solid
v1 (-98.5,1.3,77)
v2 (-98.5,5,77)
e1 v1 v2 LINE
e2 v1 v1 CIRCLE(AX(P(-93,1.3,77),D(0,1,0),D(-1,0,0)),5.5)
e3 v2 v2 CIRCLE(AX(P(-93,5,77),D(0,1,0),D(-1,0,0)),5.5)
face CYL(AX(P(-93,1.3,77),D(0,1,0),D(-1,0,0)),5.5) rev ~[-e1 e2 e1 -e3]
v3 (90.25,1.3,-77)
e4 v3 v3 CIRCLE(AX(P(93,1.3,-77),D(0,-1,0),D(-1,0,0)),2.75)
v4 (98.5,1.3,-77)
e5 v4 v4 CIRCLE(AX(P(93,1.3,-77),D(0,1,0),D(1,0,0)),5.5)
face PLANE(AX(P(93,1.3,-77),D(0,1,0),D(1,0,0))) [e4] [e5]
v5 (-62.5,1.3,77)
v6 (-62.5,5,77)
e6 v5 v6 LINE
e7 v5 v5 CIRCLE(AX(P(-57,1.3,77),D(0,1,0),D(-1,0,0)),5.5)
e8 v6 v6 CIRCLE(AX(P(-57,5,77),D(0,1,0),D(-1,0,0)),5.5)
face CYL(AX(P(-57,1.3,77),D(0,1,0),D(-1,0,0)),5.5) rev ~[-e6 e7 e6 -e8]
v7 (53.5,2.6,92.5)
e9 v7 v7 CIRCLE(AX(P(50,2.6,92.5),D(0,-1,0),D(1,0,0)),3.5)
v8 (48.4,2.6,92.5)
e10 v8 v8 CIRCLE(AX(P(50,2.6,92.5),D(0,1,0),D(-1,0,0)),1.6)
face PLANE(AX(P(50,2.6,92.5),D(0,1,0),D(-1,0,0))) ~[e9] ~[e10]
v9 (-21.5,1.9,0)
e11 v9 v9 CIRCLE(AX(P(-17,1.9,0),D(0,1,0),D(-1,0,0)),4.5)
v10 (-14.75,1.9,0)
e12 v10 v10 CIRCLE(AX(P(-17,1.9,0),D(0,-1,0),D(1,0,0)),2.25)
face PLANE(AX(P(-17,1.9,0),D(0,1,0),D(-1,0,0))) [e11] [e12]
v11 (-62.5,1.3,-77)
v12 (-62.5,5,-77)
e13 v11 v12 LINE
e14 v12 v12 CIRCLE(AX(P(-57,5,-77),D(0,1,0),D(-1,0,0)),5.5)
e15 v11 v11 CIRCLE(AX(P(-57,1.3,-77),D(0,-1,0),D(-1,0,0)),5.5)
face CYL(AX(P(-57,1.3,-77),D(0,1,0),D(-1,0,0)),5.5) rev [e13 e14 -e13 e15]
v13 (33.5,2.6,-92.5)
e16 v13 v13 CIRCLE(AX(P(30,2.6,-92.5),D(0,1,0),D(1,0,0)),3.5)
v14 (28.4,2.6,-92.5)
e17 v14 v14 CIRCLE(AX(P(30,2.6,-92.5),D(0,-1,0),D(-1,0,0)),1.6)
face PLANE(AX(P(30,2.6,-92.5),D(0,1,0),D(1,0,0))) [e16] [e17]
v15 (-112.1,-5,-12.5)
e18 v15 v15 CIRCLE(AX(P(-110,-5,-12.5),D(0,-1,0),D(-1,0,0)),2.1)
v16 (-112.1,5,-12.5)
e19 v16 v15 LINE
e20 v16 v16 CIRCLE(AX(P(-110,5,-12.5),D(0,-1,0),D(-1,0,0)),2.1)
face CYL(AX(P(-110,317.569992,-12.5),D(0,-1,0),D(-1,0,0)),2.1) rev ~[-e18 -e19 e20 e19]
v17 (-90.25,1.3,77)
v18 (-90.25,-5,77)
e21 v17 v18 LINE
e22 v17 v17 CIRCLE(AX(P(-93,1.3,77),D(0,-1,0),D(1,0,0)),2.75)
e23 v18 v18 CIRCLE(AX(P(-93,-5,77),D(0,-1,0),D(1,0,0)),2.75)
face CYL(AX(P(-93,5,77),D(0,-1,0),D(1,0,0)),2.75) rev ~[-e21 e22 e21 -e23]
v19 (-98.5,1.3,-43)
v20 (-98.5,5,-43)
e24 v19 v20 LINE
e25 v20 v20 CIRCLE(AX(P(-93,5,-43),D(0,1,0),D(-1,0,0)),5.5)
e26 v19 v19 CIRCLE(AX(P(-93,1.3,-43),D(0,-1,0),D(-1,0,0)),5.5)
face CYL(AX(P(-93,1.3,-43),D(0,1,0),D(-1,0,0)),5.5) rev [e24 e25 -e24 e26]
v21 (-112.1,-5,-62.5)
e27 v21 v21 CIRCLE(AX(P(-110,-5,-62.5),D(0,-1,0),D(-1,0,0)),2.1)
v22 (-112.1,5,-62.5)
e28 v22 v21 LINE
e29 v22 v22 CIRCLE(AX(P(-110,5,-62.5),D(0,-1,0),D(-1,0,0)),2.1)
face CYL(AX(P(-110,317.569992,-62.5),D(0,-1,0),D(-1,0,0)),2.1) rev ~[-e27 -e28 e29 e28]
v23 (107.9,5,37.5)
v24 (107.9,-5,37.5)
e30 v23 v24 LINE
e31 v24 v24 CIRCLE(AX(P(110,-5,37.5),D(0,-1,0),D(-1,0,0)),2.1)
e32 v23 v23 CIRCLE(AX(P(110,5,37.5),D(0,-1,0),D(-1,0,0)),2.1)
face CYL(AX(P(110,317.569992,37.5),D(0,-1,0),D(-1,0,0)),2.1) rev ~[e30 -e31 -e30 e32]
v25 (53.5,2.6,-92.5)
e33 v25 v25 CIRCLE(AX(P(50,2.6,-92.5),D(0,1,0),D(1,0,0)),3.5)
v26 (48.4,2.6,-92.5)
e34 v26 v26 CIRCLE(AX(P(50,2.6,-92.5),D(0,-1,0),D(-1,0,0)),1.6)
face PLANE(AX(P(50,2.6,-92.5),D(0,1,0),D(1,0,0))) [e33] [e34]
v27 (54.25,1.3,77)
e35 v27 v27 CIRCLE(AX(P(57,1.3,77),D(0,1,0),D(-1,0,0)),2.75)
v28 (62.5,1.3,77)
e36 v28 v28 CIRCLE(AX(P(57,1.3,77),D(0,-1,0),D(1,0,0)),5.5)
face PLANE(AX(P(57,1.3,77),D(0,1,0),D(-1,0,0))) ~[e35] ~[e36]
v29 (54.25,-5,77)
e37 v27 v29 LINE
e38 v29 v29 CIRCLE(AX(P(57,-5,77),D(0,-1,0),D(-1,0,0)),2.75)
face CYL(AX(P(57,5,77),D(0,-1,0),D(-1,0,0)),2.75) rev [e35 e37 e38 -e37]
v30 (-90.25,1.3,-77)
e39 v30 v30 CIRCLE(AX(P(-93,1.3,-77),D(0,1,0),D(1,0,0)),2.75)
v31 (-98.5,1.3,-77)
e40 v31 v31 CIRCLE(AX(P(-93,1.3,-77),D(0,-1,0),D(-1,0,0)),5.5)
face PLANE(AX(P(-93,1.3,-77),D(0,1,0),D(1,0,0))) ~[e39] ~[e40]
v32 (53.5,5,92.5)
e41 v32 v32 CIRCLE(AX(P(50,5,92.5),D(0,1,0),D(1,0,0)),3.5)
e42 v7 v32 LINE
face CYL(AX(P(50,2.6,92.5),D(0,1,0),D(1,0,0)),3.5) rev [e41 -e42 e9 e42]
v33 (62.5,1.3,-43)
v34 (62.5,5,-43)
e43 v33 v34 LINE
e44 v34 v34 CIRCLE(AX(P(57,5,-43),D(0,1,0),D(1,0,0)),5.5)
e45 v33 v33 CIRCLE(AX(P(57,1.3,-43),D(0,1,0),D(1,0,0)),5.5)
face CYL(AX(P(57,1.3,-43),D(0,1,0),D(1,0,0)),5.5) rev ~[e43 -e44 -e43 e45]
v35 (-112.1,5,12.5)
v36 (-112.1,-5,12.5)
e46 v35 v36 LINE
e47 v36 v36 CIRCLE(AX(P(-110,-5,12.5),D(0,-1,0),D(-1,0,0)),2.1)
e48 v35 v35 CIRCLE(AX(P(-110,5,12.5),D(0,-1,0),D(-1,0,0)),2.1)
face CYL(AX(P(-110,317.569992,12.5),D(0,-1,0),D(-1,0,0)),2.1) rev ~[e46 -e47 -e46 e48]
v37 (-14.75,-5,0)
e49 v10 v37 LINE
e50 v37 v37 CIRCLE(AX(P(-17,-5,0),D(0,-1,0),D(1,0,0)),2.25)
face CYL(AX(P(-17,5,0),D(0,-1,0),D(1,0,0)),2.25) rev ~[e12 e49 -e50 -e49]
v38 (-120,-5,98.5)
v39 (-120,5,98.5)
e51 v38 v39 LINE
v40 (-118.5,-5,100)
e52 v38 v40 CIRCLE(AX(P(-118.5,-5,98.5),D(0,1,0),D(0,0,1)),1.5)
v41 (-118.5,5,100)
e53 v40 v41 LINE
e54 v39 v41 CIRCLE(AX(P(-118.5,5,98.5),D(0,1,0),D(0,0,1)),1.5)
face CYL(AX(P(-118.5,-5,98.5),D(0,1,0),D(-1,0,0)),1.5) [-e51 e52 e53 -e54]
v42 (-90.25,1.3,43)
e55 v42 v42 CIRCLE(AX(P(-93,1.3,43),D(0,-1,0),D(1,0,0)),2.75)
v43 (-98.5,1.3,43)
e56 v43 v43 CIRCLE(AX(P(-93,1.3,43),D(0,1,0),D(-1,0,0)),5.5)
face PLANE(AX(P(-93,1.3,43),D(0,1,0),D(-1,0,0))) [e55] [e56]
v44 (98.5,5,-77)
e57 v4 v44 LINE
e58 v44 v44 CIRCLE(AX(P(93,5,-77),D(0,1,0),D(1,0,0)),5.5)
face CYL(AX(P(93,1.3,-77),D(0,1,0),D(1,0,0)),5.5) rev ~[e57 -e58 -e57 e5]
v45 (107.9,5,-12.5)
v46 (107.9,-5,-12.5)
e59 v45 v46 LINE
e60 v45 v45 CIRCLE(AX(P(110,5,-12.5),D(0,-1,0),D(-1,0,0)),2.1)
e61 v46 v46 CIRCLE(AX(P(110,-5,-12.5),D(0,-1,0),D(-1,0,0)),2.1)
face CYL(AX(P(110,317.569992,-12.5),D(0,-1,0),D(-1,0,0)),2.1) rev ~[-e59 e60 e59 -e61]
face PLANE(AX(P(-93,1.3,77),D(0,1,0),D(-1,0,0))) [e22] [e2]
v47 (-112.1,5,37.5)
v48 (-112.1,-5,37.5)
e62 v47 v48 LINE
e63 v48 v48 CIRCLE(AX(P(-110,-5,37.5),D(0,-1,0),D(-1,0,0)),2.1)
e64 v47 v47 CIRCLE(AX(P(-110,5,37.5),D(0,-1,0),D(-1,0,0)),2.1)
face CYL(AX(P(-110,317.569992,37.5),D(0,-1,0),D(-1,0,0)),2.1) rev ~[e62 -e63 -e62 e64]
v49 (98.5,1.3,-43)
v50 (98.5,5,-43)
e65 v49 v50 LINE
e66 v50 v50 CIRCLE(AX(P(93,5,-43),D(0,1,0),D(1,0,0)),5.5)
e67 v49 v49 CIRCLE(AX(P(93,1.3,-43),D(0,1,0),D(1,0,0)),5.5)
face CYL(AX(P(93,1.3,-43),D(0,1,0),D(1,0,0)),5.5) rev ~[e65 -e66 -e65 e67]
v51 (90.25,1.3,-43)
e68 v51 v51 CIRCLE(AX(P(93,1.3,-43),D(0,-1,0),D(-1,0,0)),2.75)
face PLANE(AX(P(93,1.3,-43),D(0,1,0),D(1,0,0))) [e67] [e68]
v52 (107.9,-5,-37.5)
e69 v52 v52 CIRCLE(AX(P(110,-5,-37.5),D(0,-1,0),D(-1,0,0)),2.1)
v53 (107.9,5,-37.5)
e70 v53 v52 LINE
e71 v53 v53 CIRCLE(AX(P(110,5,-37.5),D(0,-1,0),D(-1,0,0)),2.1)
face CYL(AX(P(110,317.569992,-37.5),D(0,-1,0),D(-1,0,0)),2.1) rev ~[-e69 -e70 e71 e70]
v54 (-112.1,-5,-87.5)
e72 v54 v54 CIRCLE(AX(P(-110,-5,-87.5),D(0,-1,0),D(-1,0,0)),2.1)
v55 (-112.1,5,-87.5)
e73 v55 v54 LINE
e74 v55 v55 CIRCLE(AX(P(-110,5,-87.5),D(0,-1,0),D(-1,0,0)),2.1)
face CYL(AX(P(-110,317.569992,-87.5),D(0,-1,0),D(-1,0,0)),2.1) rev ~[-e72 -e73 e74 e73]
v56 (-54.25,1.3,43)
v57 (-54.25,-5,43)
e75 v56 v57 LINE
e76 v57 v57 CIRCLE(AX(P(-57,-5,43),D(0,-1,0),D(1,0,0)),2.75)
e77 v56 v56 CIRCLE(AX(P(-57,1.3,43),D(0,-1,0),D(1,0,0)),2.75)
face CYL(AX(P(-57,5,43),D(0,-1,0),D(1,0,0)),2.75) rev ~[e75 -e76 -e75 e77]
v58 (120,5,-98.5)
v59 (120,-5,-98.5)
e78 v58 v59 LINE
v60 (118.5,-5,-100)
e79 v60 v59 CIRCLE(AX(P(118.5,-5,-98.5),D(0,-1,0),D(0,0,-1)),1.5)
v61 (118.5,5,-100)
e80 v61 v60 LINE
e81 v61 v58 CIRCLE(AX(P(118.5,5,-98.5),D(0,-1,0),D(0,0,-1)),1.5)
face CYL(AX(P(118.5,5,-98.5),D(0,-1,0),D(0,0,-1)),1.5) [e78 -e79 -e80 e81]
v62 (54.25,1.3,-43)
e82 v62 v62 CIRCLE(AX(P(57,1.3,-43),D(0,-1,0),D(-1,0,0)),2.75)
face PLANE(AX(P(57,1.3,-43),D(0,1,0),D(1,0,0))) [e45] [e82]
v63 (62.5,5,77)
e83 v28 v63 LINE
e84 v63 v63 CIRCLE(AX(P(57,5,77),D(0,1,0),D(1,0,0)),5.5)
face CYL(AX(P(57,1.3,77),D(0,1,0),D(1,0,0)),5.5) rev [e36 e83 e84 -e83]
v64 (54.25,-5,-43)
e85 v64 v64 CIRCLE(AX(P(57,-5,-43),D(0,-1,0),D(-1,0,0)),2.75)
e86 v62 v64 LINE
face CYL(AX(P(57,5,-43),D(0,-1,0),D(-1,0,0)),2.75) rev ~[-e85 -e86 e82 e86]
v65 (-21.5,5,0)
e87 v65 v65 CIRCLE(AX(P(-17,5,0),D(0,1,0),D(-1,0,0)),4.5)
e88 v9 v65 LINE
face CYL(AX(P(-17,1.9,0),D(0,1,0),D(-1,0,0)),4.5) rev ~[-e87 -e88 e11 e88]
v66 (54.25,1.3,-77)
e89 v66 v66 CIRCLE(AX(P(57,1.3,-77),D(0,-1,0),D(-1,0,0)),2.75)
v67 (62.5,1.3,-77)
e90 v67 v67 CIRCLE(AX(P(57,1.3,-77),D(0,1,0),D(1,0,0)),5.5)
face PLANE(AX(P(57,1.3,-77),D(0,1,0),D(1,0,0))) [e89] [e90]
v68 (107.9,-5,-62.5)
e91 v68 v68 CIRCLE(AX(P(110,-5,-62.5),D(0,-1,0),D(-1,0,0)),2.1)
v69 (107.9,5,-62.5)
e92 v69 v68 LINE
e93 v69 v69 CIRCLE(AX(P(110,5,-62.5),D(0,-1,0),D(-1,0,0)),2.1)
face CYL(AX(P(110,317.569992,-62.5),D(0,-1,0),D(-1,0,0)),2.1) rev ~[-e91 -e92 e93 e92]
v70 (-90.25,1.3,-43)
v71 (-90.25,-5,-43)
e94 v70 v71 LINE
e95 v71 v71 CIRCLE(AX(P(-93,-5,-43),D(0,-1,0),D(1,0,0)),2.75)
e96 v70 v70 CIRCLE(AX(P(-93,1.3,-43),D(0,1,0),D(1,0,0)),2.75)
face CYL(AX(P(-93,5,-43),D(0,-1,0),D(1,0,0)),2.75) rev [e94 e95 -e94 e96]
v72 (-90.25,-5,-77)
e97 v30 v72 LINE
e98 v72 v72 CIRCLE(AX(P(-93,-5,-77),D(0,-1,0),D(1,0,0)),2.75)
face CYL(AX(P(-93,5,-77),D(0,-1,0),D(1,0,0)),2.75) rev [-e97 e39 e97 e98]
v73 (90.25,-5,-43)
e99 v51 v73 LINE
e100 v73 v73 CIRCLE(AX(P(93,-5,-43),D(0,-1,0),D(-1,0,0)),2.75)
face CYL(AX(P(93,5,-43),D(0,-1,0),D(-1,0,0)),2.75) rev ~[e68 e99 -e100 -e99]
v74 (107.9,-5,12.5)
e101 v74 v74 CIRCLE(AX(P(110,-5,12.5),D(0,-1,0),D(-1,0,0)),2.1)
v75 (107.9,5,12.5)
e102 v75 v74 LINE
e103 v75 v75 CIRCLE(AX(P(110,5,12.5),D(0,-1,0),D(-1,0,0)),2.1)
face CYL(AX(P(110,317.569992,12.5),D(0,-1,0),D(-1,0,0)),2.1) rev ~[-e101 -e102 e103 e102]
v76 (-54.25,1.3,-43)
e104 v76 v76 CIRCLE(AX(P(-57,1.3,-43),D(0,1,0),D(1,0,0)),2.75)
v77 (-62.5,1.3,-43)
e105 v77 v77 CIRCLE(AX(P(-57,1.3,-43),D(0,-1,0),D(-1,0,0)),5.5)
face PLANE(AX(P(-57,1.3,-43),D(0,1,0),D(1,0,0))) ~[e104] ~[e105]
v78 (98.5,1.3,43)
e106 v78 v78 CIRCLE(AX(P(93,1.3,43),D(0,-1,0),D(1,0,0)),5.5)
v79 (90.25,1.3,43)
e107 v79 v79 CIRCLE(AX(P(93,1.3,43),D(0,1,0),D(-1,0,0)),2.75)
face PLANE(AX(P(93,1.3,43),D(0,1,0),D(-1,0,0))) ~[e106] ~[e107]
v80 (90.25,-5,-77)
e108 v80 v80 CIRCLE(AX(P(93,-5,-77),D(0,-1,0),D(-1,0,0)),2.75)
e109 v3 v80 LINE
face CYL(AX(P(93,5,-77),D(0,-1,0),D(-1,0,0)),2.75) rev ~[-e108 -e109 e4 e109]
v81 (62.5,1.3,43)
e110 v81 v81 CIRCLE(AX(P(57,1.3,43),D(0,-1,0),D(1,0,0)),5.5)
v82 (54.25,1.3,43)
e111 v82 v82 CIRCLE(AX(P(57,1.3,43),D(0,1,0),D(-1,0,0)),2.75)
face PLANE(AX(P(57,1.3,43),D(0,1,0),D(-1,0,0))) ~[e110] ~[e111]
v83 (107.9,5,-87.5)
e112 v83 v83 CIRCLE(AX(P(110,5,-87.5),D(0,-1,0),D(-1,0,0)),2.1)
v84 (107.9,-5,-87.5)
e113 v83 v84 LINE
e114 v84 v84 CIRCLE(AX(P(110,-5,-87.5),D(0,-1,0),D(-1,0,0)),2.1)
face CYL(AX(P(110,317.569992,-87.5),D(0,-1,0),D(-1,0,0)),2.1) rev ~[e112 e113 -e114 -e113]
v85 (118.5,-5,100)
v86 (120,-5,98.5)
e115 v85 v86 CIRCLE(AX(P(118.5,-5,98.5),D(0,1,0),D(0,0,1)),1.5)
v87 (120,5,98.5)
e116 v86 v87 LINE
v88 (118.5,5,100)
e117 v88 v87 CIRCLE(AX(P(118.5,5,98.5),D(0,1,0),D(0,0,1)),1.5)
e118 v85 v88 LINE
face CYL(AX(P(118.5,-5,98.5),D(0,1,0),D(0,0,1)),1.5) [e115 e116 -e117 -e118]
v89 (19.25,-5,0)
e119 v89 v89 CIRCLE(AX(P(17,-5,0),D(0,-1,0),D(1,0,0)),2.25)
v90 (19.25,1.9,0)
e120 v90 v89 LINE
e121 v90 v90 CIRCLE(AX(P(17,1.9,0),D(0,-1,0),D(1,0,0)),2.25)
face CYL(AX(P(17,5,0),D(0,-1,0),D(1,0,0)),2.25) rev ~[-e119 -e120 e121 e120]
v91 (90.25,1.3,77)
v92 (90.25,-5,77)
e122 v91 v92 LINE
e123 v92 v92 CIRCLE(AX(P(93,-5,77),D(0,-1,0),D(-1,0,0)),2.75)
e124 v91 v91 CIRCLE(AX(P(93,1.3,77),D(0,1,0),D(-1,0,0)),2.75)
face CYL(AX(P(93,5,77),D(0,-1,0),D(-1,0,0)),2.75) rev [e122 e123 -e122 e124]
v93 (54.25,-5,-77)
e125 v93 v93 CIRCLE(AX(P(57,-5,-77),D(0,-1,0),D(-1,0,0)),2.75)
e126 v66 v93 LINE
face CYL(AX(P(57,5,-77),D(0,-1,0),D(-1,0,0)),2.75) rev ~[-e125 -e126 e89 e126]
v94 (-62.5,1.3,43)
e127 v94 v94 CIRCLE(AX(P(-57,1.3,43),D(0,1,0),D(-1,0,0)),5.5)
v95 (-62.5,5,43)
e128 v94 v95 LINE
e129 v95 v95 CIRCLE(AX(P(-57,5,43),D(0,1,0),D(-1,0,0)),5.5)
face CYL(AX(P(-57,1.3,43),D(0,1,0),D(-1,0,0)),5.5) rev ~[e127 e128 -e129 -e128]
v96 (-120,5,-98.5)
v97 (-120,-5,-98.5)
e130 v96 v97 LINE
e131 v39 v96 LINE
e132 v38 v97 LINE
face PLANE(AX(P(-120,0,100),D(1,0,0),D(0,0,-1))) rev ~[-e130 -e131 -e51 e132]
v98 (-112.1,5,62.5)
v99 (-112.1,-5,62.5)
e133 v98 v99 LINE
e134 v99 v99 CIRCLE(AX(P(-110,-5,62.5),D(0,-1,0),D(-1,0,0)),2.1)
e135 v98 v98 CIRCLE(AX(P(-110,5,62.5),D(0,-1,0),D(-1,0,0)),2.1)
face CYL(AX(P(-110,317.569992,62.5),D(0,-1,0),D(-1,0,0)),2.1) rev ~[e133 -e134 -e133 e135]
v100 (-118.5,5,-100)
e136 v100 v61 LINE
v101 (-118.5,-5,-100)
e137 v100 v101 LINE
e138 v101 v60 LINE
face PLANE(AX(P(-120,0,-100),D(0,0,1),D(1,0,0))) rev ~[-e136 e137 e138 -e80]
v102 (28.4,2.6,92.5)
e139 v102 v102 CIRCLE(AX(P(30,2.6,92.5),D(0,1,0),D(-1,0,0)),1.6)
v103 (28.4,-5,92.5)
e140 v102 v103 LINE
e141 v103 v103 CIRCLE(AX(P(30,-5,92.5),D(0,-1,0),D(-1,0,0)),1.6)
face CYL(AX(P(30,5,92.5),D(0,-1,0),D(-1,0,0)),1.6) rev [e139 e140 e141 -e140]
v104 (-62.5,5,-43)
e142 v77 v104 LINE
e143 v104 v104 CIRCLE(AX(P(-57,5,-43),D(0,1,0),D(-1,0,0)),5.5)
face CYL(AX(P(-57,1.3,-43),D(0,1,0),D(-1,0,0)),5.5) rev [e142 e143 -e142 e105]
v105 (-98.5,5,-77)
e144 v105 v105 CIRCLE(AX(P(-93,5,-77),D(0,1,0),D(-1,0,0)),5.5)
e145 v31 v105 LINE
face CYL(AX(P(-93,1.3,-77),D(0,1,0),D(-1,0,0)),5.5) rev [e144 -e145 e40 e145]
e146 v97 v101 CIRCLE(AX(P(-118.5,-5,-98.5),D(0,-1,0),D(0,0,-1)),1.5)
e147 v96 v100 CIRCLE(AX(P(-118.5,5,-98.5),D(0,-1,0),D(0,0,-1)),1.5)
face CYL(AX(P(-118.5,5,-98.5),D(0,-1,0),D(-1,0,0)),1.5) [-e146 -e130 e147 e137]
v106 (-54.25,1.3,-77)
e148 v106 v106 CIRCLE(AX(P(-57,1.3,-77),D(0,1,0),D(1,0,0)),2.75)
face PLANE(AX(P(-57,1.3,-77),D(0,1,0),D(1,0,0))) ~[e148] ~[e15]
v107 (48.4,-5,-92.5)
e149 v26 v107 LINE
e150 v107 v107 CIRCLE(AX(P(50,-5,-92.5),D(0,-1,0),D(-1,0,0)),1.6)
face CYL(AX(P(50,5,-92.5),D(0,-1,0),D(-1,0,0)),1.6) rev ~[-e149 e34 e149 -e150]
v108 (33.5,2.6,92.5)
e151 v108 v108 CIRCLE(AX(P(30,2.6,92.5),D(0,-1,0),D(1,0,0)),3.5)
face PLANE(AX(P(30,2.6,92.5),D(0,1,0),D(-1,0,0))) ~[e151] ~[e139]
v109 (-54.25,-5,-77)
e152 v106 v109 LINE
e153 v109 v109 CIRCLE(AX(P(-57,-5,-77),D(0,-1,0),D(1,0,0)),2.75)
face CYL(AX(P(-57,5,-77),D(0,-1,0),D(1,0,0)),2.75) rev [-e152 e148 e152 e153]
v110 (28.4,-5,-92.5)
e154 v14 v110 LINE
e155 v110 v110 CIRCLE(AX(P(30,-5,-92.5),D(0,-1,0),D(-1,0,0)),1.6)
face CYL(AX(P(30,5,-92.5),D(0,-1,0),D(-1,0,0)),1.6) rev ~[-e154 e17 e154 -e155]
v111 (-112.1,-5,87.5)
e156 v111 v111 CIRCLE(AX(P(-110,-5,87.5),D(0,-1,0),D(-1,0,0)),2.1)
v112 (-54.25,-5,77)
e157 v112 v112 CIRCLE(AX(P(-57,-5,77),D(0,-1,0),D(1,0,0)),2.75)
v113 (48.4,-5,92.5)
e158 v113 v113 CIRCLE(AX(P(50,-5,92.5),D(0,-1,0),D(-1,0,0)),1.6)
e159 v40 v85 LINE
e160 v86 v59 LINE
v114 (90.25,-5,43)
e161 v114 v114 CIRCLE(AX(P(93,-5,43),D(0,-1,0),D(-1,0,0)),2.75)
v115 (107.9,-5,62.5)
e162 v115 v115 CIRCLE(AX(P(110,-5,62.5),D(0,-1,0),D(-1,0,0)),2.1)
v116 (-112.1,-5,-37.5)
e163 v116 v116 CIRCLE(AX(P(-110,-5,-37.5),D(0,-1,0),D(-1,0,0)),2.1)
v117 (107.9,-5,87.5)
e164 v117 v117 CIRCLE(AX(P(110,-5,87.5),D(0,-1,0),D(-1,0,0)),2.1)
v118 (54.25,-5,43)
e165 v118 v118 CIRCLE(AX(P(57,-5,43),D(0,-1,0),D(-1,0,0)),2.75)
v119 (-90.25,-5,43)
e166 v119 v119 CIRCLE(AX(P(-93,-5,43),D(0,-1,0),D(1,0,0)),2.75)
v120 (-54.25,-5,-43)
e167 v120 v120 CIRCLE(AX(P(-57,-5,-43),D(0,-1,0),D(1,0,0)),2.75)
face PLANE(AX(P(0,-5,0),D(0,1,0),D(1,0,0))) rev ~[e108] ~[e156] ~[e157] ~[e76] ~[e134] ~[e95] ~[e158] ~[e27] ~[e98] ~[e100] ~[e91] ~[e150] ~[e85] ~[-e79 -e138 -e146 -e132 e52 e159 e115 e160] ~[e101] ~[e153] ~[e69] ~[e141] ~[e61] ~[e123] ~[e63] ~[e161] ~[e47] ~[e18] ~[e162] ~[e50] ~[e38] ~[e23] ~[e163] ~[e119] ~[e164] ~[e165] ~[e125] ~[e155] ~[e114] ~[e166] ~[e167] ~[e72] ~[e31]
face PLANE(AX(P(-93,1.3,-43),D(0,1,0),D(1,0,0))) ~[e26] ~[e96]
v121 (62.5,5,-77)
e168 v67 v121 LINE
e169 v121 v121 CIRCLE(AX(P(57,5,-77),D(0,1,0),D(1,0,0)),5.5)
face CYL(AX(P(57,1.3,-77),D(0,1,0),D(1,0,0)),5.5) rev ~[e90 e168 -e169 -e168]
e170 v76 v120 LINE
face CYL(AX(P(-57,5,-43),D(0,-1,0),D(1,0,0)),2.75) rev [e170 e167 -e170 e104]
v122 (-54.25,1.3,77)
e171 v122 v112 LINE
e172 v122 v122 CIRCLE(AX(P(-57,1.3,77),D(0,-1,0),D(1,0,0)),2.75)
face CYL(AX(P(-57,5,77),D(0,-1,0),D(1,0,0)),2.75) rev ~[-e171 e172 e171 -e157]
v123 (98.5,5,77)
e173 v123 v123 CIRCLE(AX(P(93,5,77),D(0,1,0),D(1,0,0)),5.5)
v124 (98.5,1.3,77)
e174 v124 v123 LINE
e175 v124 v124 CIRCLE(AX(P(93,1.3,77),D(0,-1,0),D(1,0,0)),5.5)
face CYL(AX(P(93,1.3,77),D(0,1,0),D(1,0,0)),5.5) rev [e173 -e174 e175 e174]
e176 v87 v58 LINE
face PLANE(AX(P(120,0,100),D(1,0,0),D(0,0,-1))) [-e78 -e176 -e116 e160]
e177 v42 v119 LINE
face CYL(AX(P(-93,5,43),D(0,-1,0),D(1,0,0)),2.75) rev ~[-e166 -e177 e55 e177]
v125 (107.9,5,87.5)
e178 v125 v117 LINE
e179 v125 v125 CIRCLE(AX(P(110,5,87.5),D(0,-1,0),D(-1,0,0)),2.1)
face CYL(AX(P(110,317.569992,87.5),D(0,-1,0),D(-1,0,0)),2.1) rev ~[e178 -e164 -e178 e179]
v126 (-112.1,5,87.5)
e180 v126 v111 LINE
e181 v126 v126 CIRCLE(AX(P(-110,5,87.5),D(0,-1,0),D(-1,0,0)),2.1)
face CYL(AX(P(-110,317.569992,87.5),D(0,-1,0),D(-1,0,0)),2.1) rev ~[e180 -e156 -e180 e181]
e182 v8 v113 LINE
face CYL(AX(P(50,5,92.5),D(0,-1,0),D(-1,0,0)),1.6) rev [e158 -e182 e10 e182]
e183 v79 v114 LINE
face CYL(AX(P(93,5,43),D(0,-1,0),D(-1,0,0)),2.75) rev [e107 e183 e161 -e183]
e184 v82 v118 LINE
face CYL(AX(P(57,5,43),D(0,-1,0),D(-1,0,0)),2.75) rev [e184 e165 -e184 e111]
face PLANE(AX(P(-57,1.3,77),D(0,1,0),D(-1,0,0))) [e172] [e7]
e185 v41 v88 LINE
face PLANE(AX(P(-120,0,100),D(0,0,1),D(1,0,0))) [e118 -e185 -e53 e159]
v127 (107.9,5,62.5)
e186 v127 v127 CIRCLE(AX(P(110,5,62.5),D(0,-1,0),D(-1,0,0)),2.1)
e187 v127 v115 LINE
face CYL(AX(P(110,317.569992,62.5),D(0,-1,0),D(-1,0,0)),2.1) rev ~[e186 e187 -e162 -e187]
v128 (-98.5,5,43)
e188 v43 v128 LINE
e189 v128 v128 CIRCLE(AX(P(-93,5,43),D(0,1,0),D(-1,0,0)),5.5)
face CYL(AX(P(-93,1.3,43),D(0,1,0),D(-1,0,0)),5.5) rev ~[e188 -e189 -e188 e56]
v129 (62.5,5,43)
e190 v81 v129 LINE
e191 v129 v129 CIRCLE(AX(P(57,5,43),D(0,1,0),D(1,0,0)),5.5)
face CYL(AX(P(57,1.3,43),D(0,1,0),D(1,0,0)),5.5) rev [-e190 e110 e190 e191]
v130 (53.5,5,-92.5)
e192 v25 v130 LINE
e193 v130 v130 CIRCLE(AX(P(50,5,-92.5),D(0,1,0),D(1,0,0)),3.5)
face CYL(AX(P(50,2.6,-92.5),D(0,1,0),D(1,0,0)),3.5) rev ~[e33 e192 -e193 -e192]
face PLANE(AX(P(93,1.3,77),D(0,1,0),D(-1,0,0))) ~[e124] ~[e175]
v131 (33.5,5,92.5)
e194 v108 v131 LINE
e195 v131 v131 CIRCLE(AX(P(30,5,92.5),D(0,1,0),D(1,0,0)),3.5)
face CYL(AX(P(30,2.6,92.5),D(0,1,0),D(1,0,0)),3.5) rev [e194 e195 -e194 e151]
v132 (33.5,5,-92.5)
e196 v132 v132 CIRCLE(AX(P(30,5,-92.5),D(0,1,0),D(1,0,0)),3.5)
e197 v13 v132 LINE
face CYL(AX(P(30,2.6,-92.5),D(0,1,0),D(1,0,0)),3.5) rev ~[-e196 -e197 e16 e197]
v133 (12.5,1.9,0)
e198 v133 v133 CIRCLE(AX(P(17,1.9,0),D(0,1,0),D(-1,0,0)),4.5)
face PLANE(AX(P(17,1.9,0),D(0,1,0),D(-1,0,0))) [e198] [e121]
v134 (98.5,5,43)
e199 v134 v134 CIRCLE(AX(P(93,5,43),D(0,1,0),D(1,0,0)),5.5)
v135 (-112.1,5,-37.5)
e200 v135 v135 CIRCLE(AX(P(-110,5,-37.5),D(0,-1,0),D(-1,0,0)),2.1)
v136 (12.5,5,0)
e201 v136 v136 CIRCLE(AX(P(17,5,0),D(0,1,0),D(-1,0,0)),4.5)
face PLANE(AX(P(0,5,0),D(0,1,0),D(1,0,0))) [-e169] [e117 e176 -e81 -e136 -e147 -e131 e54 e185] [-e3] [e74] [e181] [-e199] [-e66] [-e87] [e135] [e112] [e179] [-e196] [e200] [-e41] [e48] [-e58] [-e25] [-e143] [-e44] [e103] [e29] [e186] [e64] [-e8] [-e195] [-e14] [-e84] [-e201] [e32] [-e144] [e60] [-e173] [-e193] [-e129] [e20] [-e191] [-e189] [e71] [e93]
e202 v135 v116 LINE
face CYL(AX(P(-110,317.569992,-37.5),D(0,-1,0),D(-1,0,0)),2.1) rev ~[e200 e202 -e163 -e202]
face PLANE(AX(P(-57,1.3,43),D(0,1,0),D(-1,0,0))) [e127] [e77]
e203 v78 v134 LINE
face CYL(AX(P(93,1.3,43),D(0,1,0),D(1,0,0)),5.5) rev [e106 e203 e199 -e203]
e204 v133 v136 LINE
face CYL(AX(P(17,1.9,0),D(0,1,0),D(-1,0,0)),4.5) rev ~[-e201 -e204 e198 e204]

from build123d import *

# Parameters (mm, degrees)
SKETCH1_W                                        = 240
SKETCH1_H                                        = 200
BOSS_EXTRUDE1_DEPTH                              = 5
CBORE_FOR_M5_PAN_HEAD_MACHINE_SCREW1_D           = 5.5
CBORE_FOR_M5_PAN_HEAD_MACHINE_SCREW1_CBORE_D     = 11
CBORE_FOR_M5_PAN_HEAD_MACHINE_SCREW1_CBORE_DEPTH = 3.7
MIRROR2_COPY_1_D                                 = 5.5
MIRROR2_COPY_1_CBORE_D                           = 11
MIRROR2_COPY_1_CBORE_DEPTH                       = 3.7
CBORE_FOR_M4_PAN_HEAD_MACHINE_SCREW1_D           = 4.5
CBORE_FOR_M4_PAN_HEAD_MACHINE_SCREW1_CBORE_D     = 9
CBORE_FOR_M4_PAN_HEAD_MACHINE_SCREW1_CBORE_DEPTH = 3.1
M5X0_8_TAPPED_HOLE1_D                            = 4.2
FILLET1_R                                        = 1.5
LPATTERN2_COUNT                                  = 8
LPATTERN2_PITCH                                  = 25
CBORE_FOR_M3_PAN_HEAD_MACHINE_SCREW1_D           = 3.2
CBORE_FOR_M3_PAN_HEAD_MACHINE_SCREW1_CBORE_D     = 7
CBORE_FOR_M3_PAN_HEAD_MACHINE_SCREW1_CBORE_DEPTH = 2.4


with BuildPart() as part:
    # Sketch1 → Boss-Extrude1 (new body, symmetric)
    with BuildSketch(Plane(origin=(0, 0, 0), x_dir=(1, 0, 0), z_dir=(0, 1, 0))):
        Rectangle(SKETCH1_W, SKETCH1_H)
    extrude(amount=BOSS_EXTRUDE1_DEPTH, both=True)

    # CBORE for M5 Pan Head Machine Screw1 (through all)
    with Locations(Plane(origin=(66.92305649, 5, -81.969265096), x_dir=(-1, 0, 0), z_dir=(0, 1, 0))):
        with Locations((159.92305649, 158.969265096), (123.92305649, 158.969265096), (123.92305649, 124.969265096), (159.92305649, 124.969265096)):
            cbore_for_m5_pan_head_machine_screw1 = CounterBoreHole(CBORE_FOR_M5_PAN_HEAD_MACHINE_SCREW1_D / 2, CBORE_FOR_M5_PAN_HEAD_MACHINE_SCREW1_CBORE_D / 2, CBORE_FOR_M5_PAN_HEAD_MACHINE_SCREW1_CBORE_DEPTH)

    # Mirror1: CBORE for M5 Pan Head Machine Screw1 across plane
    add(cbore_for_m5_pan_head_machine_screw1.mirror(Plane(origin=(0, 0, 0), x_dir=(0, 0, 1), z_dir=(1, 0, 0))), mode=Mode.SUBTRACT)

    # Mirror2: CBORE for M5 Pan Head Machine Screw1 across plane
    add(cbore_for_m5_pan_head_machine_screw1.mirror(Plane.XY), mode=Mode.SUBTRACT)

    # Mirror2 copy 1 (through all)
    with Locations(Plane(origin=(-66.92305649, 5, 81.969265096), x_dir=(1, 0, 0), z_dir=(0, 1, 0))):
        with Locations((159.92305649, 158.969265096), (123.92305649, 158.969265096), (123.92305649, 124.969265096), (159.92305649, 124.969265096)):
            CounterBoreHole(MIRROR2_COPY_1_D / 2, MIRROR2_COPY_1_CBORE_D / 2, MIRROR2_COPY_1_CBORE_DEPTH)

    # CBORE for M4 Pan Head Machine Screw1 (through all)
    with Locations(Plane(origin=(-30.338508942, 5, -23.538498317), x_dir=(-1, 0, 0), z_dir=(0, 1, 0))):
        with Locations((-13.338508942, 23.538498317), (-47.338508942, 23.538498317)):
            CounterBoreHole(CBORE_FOR_M4_PAN_HEAD_MACHINE_SCREW1_D / 2, CBORE_FOR_M4_PAN_HEAD_MACHINE_SCREW1_CBORE_D / 2, CBORE_FOR_M4_PAN_HEAD_MACHINE_SCREW1_CBORE_DEPTH)

    # M5x0.8 Tapped Hole1 (through all)
    with Locations(Plane(origin=(0, 5, 0), x_dir=(1, 0, 0), z_dir=(0, 1, 0))):
        with Locations((-110, 87.5), (110, 87.5)):
            m5x0_8_tapped_hole1 = Hole(M5X0_8_TAPPED_HOLE1_D / 2)

    # Fillet1
    fillet1_edges = [part.edges().sort_by_distance(p)[0] for p in [
        (120, 0, 100),
        (-120, 0, 100),
        (-120, 0, -100),
        (120, 0, -100),
    ]]
    fillet(fillet1_edges, radius=FILLET1_R)

    # LPattern2: M5x0.8 Tapped Hole1 ×8
    with Locations(*[(0, 0, i * LPATTERN2_PITCH) for i in range(1, LPATTERN2_COUNT)]):
        add(m5x0_8_tapped_hole1, mode=Mode.SUBTRACT)

    # CBORE for M3 Pan Head Machine Screw1 (through all)
    with Locations(Plane(origin=(0, 5, 0), x_dir=(1, 0, 0), z_dir=(0, 1, 0))):
        with Locations((30, 92.5), (50, 92.5)):
            cbore_for_m3_pan_head_machine_screw1 = CounterBoreHole(CBORE_FOR_M3_PAN_HEAD_MACHINE_SCREW1_D / 2, CBORE_FOR_M3_PAN_HEAD_MACHINE_SCREW1_CBORE_D / 2, CBORE_FOR_M3_PAN_HEAD_MACHINE_SCREW1_CBORE_DEPTH)

    # Mirror3: CBORE for M3 Pan Head Machine Screw1 across plane
    add(cbore_for_m3_pan_head_machine_screw1.mirror(Plane.XY), mode=Mode.SUBTRACT)


solid = part.part
